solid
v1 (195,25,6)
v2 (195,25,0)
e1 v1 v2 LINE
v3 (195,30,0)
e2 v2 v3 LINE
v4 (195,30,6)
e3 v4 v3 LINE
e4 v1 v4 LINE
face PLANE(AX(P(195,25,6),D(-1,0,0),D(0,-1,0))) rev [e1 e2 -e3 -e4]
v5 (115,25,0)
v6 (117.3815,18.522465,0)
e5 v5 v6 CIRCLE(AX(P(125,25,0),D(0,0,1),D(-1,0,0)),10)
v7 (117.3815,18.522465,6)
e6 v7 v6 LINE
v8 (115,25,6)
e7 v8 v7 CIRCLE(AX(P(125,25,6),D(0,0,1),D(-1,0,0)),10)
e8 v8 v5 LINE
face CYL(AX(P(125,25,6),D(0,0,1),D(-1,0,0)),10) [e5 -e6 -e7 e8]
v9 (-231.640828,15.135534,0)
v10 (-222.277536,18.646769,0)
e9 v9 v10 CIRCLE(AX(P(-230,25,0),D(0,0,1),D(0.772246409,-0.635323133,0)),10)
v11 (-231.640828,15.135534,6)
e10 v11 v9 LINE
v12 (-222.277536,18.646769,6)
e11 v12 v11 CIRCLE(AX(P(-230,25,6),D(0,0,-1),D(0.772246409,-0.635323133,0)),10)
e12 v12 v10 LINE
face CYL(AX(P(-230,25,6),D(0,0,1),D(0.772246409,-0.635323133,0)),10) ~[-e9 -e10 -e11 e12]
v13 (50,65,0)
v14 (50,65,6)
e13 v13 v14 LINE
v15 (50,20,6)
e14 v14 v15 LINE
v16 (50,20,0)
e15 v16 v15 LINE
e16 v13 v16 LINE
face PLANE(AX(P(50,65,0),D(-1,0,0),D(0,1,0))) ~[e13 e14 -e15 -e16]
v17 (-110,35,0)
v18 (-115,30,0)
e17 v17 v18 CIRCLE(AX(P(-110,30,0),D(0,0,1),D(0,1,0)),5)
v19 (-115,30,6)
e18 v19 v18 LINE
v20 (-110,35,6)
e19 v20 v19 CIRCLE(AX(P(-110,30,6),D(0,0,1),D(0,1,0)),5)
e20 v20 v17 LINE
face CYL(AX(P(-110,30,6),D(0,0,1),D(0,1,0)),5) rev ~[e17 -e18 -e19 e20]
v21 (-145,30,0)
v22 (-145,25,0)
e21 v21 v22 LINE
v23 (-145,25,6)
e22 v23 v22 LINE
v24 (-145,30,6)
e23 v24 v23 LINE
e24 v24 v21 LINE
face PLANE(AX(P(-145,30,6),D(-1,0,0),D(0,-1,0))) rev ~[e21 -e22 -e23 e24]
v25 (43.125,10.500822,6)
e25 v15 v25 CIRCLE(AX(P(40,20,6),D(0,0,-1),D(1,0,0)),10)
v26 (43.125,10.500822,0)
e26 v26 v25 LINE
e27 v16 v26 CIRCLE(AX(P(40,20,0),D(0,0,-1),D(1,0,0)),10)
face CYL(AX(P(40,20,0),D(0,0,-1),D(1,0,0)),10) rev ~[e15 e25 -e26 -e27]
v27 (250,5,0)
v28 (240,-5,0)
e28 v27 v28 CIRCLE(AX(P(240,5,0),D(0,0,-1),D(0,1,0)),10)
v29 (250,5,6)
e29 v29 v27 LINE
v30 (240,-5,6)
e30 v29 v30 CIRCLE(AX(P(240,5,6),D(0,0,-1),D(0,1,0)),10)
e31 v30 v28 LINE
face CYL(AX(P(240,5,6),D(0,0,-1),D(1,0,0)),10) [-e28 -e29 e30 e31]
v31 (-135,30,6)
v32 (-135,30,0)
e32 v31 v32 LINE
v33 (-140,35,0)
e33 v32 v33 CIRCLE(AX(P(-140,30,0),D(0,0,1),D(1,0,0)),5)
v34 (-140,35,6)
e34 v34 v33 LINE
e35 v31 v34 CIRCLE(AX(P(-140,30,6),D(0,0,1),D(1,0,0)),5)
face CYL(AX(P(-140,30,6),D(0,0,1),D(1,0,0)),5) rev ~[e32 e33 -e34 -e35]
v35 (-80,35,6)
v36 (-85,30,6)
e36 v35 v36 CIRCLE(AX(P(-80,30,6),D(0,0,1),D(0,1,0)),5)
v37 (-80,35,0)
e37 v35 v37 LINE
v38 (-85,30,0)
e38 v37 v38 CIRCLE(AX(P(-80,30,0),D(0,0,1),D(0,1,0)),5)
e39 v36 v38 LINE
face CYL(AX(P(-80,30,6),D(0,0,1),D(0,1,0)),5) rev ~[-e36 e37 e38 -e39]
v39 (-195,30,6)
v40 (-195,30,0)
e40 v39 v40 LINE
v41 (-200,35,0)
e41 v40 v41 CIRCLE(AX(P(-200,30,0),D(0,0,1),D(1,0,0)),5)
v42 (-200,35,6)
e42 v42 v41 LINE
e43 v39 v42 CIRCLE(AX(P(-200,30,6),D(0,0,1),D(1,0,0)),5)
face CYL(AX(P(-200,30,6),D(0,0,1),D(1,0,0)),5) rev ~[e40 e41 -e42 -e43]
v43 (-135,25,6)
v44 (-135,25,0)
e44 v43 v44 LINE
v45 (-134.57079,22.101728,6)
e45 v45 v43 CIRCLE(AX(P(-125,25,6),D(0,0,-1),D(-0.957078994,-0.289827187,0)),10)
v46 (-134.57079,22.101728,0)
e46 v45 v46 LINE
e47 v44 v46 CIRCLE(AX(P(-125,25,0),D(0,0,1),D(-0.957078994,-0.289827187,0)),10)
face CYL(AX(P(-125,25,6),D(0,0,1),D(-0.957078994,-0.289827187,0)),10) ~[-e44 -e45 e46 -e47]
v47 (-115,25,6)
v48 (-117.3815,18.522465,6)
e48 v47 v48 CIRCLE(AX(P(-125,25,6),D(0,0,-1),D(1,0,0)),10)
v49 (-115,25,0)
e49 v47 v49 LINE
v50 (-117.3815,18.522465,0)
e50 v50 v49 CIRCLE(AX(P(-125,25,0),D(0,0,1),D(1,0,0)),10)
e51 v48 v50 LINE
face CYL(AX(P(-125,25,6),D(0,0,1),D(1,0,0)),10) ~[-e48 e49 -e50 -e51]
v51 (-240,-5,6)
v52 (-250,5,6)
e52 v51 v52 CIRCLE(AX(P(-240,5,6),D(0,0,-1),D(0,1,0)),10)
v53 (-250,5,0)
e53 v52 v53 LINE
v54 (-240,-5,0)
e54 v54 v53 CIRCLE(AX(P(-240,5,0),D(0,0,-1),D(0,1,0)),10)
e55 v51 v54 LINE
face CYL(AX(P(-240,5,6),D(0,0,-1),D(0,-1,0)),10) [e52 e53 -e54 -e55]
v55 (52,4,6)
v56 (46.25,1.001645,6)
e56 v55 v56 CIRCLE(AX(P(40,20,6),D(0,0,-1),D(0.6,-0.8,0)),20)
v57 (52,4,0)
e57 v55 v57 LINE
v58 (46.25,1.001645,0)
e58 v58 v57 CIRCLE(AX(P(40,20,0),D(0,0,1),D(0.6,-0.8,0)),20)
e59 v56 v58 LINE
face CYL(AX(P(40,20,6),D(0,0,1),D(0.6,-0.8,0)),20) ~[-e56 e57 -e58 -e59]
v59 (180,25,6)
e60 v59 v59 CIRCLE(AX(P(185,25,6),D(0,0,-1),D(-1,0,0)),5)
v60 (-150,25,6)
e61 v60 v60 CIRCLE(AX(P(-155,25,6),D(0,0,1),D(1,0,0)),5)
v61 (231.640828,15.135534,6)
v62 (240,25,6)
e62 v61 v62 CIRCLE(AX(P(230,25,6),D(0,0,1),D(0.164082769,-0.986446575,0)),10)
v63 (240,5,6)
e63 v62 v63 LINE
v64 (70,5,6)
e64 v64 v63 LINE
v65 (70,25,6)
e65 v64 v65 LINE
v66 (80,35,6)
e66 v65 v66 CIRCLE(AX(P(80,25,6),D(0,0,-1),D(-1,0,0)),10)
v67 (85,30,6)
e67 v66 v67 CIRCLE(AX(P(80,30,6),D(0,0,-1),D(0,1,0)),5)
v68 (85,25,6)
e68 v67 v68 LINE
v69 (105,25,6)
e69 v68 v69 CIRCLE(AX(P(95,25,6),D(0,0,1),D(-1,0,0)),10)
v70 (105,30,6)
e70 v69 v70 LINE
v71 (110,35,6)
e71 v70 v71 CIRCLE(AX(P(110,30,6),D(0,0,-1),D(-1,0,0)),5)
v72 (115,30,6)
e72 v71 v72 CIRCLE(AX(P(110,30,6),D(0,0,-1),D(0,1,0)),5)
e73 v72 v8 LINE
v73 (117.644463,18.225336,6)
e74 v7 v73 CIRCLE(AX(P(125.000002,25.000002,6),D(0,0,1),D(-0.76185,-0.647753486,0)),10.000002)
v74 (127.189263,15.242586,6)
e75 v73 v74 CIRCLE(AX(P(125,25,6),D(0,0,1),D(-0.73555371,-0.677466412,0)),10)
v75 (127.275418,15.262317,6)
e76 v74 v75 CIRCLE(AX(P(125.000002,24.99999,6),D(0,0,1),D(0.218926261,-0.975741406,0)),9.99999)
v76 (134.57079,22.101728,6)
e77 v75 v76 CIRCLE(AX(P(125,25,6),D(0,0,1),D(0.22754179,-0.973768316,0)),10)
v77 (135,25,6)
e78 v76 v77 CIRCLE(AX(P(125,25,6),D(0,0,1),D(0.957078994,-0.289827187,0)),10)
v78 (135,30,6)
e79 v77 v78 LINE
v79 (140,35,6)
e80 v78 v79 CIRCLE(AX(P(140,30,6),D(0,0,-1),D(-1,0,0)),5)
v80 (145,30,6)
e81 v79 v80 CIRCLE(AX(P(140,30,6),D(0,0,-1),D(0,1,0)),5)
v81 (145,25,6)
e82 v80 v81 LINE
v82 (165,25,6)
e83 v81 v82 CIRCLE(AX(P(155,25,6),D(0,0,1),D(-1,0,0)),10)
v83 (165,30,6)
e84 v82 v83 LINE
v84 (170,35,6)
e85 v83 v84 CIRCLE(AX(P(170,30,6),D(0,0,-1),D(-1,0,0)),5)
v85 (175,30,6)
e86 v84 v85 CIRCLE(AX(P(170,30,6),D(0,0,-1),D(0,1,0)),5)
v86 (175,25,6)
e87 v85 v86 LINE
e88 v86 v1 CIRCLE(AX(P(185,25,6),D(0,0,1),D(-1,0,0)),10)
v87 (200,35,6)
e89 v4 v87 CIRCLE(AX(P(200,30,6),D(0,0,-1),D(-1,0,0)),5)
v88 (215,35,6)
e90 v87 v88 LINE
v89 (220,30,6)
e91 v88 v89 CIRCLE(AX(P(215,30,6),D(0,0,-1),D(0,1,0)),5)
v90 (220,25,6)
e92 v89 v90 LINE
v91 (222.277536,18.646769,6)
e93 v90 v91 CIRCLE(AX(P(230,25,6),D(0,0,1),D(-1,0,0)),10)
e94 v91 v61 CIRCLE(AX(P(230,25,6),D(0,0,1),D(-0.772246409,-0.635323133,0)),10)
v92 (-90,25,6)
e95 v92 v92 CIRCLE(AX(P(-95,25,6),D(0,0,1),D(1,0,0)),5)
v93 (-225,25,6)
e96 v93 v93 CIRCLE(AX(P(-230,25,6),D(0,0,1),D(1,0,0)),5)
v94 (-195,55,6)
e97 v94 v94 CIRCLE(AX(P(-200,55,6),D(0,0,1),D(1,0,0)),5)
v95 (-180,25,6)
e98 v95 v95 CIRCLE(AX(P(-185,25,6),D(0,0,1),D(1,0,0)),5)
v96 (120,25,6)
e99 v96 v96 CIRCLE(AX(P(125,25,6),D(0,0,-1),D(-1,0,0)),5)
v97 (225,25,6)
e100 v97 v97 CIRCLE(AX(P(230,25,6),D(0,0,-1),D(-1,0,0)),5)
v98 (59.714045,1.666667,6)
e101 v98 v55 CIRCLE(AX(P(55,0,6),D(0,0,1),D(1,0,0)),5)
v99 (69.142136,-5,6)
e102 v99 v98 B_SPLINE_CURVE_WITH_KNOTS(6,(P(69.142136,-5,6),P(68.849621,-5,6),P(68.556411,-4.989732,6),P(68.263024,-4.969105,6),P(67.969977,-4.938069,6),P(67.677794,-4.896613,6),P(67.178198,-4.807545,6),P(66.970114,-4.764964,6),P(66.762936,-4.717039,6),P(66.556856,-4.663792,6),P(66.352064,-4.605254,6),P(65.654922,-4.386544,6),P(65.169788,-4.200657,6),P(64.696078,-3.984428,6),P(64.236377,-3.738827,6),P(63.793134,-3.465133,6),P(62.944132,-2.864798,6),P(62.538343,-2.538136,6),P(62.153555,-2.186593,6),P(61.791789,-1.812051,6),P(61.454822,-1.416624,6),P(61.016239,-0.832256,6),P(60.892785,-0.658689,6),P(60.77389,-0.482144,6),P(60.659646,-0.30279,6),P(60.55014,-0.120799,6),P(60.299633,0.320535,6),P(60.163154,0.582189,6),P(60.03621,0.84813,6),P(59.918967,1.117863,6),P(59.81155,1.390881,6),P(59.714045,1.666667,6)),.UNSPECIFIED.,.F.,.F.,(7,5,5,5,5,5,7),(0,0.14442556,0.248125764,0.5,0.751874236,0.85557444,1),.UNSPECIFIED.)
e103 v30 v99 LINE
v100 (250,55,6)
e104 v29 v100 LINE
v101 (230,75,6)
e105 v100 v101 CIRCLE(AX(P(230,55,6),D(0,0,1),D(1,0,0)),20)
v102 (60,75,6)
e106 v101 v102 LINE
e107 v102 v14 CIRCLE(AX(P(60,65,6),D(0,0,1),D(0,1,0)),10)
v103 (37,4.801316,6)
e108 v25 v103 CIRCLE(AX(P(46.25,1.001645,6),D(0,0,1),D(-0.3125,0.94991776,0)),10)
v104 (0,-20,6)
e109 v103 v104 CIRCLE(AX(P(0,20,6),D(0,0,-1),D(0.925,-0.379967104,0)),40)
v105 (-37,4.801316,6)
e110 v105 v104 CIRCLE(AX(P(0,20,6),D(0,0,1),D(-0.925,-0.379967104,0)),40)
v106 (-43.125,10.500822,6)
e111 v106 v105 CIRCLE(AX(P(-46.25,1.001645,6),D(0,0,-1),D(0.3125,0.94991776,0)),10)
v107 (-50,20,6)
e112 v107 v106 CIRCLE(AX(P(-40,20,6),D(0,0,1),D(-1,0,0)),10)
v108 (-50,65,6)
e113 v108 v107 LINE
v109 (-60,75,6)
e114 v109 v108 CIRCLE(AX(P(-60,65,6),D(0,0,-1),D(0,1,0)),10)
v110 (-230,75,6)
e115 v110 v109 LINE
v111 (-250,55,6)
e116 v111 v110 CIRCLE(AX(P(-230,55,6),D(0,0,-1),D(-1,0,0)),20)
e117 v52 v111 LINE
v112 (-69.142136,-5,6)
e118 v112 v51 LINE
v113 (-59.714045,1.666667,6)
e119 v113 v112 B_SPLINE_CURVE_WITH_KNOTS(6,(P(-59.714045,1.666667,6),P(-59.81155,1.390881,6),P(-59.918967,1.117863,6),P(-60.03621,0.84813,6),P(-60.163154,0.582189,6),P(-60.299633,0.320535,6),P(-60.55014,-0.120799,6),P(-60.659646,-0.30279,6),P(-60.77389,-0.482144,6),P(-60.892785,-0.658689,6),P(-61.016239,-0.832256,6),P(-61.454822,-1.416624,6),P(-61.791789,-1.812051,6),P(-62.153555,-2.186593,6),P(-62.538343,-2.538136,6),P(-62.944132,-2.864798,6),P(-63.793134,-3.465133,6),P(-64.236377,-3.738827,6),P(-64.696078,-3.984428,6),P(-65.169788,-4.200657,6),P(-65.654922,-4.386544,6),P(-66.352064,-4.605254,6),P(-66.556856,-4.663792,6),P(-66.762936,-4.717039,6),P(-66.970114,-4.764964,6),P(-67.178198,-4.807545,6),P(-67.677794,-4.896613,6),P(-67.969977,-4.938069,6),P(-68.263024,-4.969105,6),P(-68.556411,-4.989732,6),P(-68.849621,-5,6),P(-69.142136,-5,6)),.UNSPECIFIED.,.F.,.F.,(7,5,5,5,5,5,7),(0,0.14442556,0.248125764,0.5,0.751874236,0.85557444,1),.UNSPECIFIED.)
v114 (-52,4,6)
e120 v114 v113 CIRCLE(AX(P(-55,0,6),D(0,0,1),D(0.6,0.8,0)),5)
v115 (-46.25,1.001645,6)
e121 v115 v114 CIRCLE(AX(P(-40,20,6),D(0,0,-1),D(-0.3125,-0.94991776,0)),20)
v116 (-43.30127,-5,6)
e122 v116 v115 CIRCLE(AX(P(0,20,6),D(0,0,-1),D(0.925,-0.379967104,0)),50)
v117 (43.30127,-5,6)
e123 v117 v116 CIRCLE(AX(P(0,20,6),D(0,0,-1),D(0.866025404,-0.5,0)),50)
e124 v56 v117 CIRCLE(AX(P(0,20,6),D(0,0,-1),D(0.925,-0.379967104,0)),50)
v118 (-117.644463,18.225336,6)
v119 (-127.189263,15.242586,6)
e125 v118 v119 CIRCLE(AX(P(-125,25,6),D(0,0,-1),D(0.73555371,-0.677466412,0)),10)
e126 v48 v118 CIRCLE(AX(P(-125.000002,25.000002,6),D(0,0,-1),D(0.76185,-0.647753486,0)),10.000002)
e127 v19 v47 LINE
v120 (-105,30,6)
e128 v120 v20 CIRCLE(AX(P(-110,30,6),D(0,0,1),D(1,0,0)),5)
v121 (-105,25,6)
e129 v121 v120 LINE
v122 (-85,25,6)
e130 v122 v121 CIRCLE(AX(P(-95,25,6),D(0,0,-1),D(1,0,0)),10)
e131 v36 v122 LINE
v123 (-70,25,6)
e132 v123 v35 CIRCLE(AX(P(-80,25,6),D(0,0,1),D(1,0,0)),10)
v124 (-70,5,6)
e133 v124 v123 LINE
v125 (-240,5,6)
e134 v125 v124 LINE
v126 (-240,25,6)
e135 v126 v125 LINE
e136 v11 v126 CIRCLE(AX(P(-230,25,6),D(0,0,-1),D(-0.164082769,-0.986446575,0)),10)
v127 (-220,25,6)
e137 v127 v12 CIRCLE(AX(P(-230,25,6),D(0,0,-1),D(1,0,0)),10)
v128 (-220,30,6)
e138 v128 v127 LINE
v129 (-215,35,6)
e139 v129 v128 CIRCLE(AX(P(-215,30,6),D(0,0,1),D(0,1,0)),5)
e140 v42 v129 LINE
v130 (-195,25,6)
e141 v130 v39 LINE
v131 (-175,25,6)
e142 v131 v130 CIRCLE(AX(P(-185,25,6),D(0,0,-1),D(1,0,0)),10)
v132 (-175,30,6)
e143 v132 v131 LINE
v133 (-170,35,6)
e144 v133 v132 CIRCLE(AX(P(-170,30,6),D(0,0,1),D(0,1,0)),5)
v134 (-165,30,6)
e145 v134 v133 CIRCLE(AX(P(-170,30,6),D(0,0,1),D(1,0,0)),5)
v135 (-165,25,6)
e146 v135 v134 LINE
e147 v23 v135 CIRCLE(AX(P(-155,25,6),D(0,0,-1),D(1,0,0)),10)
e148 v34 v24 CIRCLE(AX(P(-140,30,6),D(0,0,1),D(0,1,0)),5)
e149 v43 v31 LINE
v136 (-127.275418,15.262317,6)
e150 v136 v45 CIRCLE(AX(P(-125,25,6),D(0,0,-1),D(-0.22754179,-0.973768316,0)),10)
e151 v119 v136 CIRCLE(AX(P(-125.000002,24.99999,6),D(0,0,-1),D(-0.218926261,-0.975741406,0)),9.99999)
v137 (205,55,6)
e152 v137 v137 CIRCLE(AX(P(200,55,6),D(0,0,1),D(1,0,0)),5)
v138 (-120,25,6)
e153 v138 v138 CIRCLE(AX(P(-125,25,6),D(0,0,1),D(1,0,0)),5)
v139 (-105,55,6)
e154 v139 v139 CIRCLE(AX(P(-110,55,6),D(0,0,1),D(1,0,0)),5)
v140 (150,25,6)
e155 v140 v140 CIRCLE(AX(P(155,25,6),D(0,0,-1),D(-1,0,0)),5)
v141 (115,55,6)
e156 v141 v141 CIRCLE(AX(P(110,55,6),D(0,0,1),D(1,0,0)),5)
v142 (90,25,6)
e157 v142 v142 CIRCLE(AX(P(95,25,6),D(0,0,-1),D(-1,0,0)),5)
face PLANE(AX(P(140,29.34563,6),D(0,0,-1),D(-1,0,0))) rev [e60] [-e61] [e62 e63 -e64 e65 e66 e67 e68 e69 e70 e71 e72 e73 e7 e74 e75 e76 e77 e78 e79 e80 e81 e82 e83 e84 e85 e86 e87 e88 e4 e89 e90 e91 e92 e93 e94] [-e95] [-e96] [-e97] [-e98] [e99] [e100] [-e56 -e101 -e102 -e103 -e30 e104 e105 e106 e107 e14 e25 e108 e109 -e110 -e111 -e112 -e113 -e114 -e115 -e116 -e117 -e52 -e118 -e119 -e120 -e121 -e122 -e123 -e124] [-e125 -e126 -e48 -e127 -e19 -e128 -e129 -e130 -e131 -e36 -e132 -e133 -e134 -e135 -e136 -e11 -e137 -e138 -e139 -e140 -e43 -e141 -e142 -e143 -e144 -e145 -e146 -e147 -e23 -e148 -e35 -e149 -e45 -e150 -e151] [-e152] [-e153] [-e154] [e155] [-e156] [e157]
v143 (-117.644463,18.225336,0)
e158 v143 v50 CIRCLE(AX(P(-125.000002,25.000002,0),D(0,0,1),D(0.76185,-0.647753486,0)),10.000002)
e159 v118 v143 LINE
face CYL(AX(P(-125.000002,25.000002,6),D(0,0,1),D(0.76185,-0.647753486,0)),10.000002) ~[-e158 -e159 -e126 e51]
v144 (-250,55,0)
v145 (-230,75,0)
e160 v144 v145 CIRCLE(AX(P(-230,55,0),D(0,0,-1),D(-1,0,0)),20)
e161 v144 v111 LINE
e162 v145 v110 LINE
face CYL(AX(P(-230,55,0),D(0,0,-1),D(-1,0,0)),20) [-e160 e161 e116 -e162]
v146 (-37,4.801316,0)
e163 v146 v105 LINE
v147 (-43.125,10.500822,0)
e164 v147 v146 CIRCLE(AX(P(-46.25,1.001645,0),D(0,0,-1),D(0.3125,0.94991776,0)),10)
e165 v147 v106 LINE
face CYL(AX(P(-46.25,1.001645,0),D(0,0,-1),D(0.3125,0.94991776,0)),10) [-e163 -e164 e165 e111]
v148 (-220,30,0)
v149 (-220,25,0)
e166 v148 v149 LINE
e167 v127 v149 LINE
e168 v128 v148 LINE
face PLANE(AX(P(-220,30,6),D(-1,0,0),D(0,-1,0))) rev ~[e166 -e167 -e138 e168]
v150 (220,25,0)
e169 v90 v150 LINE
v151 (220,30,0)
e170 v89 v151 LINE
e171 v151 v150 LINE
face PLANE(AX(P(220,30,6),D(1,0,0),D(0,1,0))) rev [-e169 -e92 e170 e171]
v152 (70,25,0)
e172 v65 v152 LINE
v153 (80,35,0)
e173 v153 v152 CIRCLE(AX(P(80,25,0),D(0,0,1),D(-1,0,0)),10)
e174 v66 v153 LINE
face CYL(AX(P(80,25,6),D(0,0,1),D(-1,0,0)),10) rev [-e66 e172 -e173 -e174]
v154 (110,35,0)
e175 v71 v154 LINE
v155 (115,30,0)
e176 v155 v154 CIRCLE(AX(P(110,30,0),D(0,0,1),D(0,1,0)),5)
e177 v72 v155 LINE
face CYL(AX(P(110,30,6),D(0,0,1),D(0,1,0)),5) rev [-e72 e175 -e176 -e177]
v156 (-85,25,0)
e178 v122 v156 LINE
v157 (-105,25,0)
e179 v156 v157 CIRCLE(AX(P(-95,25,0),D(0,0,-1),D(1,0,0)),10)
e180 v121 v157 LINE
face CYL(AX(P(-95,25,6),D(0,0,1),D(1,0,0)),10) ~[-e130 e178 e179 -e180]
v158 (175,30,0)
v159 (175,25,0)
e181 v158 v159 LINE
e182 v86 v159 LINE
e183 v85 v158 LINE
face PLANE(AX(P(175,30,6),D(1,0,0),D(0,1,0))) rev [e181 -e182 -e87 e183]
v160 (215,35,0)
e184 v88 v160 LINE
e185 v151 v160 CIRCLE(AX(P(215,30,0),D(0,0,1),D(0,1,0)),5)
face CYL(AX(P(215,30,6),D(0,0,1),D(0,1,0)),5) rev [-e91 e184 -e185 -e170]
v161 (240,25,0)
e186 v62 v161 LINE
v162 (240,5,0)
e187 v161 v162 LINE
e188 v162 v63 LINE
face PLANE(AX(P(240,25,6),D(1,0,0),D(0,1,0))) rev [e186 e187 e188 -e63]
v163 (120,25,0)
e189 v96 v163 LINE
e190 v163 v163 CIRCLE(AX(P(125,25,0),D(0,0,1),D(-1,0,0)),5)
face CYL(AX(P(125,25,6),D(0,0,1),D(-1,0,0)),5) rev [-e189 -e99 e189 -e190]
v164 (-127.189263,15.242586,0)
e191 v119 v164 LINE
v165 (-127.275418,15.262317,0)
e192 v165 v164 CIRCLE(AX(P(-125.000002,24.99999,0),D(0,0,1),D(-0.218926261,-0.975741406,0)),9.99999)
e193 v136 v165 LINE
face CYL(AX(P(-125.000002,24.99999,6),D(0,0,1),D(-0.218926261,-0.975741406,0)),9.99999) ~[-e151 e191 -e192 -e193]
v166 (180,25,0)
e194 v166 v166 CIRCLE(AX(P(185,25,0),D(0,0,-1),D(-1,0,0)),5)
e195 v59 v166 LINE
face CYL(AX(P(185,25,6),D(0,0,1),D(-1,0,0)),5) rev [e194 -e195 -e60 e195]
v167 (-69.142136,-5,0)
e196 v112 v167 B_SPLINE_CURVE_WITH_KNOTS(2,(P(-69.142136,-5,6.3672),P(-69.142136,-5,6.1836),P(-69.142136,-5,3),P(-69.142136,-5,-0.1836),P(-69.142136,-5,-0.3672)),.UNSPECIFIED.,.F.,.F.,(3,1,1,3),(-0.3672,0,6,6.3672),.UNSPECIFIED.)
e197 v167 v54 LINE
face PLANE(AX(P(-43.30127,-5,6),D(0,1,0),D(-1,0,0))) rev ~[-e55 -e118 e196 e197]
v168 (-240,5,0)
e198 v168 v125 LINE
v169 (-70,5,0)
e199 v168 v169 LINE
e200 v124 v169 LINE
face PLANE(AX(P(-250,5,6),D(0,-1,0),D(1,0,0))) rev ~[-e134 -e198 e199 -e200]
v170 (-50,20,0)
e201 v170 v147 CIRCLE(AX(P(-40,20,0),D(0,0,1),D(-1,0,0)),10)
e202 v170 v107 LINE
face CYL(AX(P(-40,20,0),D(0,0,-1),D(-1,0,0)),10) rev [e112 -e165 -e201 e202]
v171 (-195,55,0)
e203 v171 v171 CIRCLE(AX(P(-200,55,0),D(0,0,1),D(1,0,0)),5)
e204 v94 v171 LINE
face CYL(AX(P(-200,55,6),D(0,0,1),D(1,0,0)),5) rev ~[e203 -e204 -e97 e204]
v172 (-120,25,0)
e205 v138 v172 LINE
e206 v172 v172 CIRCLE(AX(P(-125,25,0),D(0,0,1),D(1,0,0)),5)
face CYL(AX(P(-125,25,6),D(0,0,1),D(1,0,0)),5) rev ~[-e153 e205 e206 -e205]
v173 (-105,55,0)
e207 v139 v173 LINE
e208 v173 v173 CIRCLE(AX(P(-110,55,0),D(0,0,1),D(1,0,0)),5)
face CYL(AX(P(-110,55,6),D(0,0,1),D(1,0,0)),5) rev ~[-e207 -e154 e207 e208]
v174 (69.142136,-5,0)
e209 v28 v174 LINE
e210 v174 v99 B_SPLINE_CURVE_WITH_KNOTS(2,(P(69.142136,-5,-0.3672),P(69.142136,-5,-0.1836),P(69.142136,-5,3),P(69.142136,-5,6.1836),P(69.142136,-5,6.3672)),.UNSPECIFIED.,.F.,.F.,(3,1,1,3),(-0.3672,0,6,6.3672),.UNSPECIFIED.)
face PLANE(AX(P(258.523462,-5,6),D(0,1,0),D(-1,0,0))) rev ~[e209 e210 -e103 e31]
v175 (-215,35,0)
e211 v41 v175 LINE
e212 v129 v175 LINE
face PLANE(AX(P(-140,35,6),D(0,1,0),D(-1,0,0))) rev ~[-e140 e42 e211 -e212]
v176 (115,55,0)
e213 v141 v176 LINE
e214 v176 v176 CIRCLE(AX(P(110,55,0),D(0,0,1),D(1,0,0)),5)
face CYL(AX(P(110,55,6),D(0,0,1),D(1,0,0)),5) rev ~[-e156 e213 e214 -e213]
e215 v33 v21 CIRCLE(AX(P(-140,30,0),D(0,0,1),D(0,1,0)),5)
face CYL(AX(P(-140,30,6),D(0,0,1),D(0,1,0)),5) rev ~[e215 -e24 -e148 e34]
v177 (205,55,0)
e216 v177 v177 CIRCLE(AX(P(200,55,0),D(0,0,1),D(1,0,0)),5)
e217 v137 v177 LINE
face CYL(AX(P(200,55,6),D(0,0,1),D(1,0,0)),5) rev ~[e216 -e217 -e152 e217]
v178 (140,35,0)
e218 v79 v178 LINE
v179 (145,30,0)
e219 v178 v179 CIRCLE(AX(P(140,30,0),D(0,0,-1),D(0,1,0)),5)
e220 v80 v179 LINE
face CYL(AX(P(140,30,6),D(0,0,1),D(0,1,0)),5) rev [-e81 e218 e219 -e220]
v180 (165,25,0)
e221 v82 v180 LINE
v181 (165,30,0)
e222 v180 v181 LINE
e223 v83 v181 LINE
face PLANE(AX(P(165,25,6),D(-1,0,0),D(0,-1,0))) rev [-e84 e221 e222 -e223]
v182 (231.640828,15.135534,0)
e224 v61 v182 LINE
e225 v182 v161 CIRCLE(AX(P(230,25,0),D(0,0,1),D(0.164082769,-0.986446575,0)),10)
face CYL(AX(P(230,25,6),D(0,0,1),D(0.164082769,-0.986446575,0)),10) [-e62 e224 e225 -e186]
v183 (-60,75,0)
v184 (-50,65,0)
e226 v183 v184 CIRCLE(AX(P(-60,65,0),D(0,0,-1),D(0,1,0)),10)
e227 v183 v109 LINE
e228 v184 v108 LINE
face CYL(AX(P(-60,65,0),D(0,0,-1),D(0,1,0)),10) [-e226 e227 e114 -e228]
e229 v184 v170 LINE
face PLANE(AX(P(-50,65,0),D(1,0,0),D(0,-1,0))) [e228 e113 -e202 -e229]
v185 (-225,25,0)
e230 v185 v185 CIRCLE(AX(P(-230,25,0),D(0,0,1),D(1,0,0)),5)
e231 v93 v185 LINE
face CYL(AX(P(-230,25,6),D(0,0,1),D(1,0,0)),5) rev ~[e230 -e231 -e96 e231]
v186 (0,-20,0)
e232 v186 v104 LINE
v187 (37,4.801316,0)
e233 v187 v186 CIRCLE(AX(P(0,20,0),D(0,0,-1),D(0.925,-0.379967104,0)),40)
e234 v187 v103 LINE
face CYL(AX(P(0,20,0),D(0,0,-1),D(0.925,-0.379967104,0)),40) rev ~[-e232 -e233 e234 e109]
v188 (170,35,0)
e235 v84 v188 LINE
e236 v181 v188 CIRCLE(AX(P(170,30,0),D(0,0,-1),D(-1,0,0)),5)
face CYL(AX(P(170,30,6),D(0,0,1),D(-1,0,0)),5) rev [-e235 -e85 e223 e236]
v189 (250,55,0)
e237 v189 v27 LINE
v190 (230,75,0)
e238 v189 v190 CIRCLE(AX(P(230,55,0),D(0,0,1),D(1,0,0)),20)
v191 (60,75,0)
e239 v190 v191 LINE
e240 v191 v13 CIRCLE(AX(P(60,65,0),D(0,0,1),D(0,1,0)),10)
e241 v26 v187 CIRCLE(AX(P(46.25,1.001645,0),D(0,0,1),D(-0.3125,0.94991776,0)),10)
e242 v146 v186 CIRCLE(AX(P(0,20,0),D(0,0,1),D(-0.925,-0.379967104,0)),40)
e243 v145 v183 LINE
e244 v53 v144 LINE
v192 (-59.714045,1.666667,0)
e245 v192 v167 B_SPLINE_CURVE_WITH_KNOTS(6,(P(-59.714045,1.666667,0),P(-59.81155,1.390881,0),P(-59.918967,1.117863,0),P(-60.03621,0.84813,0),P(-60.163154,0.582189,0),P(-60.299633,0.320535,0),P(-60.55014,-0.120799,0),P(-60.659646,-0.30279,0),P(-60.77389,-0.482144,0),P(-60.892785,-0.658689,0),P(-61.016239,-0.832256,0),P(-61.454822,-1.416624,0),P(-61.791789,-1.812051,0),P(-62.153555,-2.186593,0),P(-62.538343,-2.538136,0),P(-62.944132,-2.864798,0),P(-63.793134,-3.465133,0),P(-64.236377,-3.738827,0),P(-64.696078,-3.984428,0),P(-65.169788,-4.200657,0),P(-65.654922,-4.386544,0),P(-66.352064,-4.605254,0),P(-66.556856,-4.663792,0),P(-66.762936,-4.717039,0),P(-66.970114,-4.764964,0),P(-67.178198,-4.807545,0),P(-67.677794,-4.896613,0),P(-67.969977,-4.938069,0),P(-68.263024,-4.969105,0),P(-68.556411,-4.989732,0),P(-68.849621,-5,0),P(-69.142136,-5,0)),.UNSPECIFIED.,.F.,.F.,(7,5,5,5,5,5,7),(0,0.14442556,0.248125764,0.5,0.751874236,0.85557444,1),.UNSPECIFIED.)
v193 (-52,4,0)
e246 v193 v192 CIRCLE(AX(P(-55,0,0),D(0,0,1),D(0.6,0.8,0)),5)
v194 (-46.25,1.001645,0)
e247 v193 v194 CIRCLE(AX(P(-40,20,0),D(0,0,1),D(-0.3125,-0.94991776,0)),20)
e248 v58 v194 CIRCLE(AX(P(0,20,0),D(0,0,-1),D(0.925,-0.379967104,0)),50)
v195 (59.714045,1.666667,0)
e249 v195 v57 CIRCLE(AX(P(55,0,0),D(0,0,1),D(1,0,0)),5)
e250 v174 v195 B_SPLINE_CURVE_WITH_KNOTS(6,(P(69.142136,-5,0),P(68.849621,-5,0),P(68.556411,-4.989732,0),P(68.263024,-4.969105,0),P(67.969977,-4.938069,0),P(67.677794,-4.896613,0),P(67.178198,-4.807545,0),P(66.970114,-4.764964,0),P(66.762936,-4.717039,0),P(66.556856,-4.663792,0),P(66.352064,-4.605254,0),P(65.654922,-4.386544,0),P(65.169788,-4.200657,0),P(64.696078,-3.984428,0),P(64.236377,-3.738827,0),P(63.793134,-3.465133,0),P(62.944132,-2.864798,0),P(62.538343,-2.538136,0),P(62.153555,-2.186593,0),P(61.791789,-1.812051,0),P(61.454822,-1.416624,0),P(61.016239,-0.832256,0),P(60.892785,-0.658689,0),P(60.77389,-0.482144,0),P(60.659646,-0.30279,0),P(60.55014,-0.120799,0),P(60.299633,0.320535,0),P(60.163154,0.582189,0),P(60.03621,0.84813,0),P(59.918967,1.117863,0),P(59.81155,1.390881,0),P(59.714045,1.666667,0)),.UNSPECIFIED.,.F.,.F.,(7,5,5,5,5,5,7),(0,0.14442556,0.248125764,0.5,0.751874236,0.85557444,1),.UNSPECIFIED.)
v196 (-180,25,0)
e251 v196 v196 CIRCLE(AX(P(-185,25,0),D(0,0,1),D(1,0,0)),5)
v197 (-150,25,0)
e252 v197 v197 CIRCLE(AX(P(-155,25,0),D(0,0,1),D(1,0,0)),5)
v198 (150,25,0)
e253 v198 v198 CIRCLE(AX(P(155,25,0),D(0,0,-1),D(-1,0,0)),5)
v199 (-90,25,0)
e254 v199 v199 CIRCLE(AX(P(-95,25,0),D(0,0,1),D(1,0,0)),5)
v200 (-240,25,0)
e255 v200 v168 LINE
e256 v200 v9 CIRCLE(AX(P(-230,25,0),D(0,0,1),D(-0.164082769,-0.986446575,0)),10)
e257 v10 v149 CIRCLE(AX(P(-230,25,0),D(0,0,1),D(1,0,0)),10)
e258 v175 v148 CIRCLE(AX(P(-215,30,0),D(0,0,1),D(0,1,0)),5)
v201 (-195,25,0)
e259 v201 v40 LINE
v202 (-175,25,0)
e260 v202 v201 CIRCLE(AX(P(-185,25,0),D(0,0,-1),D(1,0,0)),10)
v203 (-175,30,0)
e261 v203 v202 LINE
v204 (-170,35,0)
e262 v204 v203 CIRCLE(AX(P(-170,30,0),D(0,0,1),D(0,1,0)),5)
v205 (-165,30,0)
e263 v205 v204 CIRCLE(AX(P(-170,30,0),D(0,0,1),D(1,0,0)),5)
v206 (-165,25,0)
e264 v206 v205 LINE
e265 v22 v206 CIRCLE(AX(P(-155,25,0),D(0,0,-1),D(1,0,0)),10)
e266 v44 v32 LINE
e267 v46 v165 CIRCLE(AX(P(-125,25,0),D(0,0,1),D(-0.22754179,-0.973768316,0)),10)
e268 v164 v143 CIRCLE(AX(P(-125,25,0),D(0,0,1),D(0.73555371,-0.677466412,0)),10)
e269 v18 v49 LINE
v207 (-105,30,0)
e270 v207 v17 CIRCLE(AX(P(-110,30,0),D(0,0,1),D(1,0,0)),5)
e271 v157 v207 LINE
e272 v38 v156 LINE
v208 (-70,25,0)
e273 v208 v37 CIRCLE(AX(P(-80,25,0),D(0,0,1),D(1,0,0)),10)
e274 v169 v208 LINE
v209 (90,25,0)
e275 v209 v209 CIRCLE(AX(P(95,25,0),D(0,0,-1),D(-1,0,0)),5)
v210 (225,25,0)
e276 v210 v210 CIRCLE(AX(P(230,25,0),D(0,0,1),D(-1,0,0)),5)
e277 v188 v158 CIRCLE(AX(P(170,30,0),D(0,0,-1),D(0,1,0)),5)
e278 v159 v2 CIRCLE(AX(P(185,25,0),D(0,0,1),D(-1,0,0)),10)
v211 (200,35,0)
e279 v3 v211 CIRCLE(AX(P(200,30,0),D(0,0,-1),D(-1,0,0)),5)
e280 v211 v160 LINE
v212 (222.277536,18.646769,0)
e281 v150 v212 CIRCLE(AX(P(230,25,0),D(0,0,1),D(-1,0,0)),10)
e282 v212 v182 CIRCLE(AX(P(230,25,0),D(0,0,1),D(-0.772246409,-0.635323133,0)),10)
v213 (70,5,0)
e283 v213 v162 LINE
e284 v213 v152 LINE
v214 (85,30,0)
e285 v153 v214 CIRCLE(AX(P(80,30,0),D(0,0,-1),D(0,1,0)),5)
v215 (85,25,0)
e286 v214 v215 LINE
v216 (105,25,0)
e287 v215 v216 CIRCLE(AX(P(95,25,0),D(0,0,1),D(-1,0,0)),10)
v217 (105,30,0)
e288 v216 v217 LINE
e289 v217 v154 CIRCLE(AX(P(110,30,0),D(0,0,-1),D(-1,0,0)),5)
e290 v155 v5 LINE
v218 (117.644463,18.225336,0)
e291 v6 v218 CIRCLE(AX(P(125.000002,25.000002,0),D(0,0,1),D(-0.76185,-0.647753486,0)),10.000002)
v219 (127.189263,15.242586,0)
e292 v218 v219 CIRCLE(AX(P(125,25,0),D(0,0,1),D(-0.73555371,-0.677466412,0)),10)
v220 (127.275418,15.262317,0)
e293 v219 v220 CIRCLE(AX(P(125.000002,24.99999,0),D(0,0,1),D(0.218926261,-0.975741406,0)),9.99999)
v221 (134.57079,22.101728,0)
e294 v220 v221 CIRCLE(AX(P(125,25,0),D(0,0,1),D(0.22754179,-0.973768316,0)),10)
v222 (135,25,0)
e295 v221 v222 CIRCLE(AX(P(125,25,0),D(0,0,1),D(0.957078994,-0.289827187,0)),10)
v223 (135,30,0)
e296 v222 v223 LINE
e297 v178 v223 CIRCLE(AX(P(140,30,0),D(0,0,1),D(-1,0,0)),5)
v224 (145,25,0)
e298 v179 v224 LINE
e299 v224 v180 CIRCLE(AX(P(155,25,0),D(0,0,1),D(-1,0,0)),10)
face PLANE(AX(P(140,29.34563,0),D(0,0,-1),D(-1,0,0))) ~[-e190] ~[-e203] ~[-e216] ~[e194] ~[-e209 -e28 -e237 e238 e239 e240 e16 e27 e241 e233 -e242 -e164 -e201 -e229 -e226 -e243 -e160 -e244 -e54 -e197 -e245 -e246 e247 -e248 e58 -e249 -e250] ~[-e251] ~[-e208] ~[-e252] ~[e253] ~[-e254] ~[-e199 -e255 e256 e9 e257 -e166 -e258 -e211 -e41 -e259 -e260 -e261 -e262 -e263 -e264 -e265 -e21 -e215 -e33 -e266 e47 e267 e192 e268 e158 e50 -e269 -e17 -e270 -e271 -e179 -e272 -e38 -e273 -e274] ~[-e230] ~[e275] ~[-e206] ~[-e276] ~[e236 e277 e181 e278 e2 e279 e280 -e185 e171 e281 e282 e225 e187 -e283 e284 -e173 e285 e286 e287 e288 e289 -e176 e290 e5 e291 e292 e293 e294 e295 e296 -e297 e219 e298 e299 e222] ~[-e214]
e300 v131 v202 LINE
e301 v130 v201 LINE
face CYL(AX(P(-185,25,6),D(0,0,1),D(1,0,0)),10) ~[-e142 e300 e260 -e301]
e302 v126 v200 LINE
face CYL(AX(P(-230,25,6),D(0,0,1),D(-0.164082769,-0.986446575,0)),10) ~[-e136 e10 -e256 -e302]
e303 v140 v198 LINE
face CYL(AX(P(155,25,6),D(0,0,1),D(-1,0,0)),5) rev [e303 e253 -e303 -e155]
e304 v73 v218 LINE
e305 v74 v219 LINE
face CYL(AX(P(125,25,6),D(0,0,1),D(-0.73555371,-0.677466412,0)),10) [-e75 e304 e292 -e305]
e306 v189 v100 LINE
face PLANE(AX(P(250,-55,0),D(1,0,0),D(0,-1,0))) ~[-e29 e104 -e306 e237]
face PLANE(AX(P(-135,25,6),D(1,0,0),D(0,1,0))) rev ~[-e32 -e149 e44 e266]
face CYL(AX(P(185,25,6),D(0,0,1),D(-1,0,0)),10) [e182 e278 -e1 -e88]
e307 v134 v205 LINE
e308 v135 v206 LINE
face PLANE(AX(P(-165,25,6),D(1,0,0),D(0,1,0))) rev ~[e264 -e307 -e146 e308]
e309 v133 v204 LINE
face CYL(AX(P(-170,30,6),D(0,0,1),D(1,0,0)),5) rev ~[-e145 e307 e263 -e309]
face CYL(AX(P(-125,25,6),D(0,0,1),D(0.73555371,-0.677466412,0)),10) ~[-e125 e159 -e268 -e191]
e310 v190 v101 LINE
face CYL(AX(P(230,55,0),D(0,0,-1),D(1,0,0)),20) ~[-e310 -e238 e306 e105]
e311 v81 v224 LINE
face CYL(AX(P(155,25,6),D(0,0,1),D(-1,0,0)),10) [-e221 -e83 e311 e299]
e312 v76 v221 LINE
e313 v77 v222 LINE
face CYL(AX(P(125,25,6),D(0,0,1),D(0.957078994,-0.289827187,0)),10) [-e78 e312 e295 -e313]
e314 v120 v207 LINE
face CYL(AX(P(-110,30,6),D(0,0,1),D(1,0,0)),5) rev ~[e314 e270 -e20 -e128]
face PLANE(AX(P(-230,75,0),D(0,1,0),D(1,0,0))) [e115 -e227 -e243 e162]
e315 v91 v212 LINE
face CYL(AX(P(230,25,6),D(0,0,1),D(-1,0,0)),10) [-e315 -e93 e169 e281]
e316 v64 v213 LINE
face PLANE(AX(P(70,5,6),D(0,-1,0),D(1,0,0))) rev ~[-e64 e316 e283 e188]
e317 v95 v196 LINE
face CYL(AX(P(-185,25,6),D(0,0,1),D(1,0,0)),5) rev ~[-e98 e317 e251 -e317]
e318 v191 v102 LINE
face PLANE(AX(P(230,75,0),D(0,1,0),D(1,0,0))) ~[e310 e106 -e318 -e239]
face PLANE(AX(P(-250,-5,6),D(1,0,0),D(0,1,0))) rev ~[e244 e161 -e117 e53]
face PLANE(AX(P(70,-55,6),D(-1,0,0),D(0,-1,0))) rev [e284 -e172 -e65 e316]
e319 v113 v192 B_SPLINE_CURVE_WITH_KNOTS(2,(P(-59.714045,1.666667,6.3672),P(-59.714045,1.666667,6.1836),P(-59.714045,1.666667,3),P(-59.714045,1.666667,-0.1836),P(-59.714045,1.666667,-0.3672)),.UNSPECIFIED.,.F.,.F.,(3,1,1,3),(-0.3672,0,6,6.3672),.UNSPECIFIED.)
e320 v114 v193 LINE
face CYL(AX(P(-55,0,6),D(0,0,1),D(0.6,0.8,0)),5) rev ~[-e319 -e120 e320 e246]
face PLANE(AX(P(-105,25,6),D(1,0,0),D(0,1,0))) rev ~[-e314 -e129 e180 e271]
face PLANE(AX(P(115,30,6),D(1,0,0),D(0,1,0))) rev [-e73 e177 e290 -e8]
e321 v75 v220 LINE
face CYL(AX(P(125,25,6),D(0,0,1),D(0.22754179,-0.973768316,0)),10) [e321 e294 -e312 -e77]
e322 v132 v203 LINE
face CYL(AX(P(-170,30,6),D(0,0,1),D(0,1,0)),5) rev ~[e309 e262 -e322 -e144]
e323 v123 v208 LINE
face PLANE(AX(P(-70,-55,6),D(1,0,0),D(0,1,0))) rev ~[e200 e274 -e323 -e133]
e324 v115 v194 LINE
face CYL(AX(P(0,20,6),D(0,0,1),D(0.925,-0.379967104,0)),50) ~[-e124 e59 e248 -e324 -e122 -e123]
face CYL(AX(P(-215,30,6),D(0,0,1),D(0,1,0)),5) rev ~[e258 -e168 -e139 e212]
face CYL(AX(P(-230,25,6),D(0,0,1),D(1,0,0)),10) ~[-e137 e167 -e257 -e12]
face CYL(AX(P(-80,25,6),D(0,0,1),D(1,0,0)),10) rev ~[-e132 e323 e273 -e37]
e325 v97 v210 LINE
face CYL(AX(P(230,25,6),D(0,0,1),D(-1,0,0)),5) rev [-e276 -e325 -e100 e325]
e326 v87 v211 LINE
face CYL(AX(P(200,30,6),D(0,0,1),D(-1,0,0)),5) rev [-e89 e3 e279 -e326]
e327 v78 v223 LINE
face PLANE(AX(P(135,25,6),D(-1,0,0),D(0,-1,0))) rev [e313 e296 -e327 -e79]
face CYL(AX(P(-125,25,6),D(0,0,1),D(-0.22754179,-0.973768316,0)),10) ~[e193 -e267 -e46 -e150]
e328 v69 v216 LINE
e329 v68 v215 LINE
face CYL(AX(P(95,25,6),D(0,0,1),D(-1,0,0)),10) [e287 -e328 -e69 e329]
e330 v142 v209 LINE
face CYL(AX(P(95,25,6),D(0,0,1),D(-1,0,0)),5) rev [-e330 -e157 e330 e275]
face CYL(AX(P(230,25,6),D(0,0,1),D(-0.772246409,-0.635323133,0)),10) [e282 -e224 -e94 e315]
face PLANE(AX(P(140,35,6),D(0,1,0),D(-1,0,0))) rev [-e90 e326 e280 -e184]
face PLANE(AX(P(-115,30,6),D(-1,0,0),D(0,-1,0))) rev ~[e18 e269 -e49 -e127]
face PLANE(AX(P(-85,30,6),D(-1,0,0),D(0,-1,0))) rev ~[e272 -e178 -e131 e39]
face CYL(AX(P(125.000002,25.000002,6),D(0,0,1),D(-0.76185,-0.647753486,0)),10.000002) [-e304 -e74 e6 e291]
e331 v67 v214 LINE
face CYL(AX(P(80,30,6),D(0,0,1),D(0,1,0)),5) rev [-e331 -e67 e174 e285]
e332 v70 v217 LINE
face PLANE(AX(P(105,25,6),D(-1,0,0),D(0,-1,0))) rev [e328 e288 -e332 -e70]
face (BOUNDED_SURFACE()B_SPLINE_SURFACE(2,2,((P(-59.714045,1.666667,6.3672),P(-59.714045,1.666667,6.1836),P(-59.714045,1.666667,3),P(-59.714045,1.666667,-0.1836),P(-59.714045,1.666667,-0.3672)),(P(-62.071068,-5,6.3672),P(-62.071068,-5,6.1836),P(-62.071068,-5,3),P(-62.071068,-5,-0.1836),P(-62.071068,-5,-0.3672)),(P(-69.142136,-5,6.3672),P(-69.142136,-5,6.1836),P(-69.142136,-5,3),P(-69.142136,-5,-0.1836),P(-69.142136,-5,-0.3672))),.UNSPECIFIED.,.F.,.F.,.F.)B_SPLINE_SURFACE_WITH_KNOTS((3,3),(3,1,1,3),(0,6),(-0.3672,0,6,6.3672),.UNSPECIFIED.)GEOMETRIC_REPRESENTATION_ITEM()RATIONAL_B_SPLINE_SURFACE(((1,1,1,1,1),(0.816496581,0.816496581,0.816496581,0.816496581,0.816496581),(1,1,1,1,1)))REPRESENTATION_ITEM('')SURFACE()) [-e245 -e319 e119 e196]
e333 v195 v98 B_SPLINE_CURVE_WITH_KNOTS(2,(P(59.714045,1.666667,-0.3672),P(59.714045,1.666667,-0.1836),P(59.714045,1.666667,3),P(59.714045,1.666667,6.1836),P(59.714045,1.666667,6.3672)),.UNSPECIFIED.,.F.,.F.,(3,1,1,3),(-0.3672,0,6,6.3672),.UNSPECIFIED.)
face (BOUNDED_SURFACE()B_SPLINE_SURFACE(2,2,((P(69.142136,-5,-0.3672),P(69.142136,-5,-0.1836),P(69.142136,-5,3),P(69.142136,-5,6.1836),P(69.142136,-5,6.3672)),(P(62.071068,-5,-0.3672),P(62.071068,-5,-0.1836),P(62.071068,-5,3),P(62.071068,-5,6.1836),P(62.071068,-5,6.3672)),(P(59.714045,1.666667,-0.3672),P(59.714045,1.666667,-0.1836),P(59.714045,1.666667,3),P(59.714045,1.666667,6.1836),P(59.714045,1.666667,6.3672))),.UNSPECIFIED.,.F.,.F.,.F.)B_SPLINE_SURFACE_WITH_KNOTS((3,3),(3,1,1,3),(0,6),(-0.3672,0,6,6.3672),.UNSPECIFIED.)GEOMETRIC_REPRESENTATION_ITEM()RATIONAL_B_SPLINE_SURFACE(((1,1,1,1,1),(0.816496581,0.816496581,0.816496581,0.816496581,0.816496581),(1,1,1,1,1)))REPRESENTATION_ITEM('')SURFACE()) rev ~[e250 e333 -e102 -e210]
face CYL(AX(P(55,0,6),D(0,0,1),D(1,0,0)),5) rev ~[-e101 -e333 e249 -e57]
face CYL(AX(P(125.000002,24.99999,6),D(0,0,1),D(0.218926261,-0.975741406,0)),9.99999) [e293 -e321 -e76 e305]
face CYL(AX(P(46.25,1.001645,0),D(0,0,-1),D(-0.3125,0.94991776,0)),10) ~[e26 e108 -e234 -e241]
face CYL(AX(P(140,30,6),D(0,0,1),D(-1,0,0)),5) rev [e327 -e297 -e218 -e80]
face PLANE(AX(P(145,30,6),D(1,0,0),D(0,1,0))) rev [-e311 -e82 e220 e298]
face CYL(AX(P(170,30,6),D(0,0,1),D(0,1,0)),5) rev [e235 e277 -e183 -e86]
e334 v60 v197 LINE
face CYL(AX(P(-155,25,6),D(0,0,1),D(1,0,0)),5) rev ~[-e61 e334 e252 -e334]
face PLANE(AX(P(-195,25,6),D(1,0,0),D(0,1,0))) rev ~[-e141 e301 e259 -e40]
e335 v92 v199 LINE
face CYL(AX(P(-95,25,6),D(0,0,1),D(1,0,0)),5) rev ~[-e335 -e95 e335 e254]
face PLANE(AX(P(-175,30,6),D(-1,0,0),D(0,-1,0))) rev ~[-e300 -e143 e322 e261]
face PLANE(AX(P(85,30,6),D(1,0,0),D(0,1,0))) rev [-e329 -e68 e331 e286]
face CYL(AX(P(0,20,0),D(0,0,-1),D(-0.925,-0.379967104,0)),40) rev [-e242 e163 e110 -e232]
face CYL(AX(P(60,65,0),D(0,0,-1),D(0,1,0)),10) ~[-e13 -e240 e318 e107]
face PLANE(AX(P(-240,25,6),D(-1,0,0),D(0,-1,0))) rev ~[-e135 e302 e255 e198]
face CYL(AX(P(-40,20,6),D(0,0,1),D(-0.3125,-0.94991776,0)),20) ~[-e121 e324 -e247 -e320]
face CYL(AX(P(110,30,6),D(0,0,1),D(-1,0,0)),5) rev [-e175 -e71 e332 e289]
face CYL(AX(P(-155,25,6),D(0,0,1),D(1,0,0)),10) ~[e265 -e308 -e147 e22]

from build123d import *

# Parameters (mm, degrees)
BOSS_EXTRUDE1_DEPTH = 6
SKETCH3_R           = 5
CUT_EXTRUDE1_DEPTH  = 262.076617107
SKETCH4_R           = 5
CUT_EXTRUDE2_DEPTH  = 262.076617107
CUT_EXTRUDE5_DEPTH  = 262.076617107
FILLET5_R           = 5
FILLET6_R           = 5
SKETCH9_W           = 180
SKETCH9_H           = 10
BOSS_EXTRUDE2_DEPTH = 6
CUT_EXTRUDE6_DEPTH  = 262.076617107
FILLET7_R           = 10
SKETCH11_R          = 5
BOSS_EXTRUDE3_DEPTH = 6


with BuildPart() as part:
    # Sketch1 → Boss-Extrude1 (new body)
    with BuildSketch(Plane.XY):
        with BuildLine():
            Line((-250, -55), (-250, 3.178280867))
            Line((-250, 3.178280867), (-250, 55))
            ThreePointArc((-250, 55), (-244.142135624, 69.142135624), (-230, 75))
            Line((-230, 75), (-220, 75))
            Line((-220, 75), (-164.330865428, 75))
            Line((-164.330865428, 75), (-60, 75))
            ThreePointArc((-60, 75), (-52.928932188, 72.071067812), (-50, 65))
            Line((-50, 65), (-50, 20))
            ThreePointArc((-50, 20), (-48.100925873, 14.1369803), (-43.125, 10.500822404))
            ThreePointArc((-43.125, 10.500822404), (-39.437786703, 8.32242004), (-37, 4.801315846))
            ThreePointArc((-37, 4.801315846), (-22.271648276, -13.226099426), (0, -20))
            Line((0, -20), (0, -40))
            Line((0, -40), (0, -65))
            Line((0, -65), (0, -75))
            Line((0, -75), (-230, -75))
            ThreePointArc((-230, -75), (-244.142135624, -69.142135624), (-250, -55))
        make_face()
    boss_extrude1 = extrude(amount=BOSS_EXTRUDE1_DEPTH)

    # Mirror1: Boss-Extrude1 across plane
    add(boss_extrude1.mirror(Plane(origin=(0, -20, 6), x_dir=(0, 0, 1), z_dir=(-1, 0, 0))))

    # Sketch3 → Cut-Extrude1 (cut, through all)
    with BuildSketch(Plane.XY.offset(6)):
        with Locations((110, 55)):
            Circle(SKETCH3_R)
        with Locations((200, 55)):
            Circle(SKETCH3_R)
        with Locations((-110, 55)):
            Circle(SKETCH3_R)
        with Locations((-200, 55)):
            Circle(SKETCH3_R)
    extrude(amount=-CUT_EXTRUDE1_DEPTH, mode=Mode.SUBTRACT)

    # Sketch4 → Cut-Extrude2 (cut, through all)
    with BuildSketch(Plane.XY.offset(6)):
        with BuildLine():
            Line((-70, -55), (-70, 25))
            ThreePointArc((-70, 25), (-72.928932188, 32.071067812), (-80, 35))
            Line((-80, 35), (-110, 35))
            ThreePointArc((-110, 35), (-113.535533906, 33.535533906), (-115, 30))
            Line((-115, 30), (-115, 25))
            ThreePointArc((-115, 25), (-115.614239502, 21.549275456), (-117.381499976, 18.522465177))
            ThreePointArc((-117.381499976, 18.522465177), (-117.5115076, 18.372596167), (-117.644462896, 18.225335882))
            ThreePointArc((-117.644462896, 18.225335882), (-122.017250069, 15.45520022), (-127.189262676, 15.242585951))
            ThreePointArc((-127.189262676, 15.242585951), (-127.232362089, 15.252356208), (-127.275417902, 15.262316838))
            ThreePointArc((-127.275417902, 15.262316838), (-131.839411289, 17.704627959), (-134.570789944, 22.101728126))
            ThreePointArc((-134.570789944, 22.101728126), (-134.892115533, 23.535059632), (-135, 25))
            Line((-135, 25), (-135, 30))
            ThreePointArc((-135, 30), (-136.464466094, 33.535533906), (-140, 35))
            Line((-140, 35), (-215, 35))
            ThreePointArc((-215, 35), (-218.535533906, 33.535533906), (-220, 30))
            Line((-220, 30), (-220, 25))
            ThreePointArc((-220, 25), (-220.586588267, 21.625436392), (-222.277535909, 18.646768667))
            ThreePointArc((-222.277535909, 18.646768667), (-226.488765584, 15.636708224), (-231.640827685, 15.135534251))
            ThreePointArc((-231.640827685, 15.135534251), (-237.629163678, 18.535028107), (-240, 25))
            Line((-240, 25), (-240, -55))
            ThreePointArc((-240, -55), (-237.071067812, -62.071067812), (-230, -65))
            Line((-230, -65), (-210, -65))
            Line((-210, -65), (-190, -65))
            Line((-190, -65), (-110, -65))
            Line((-110, -65), (-90, -65))
            Line((-90, -65), (-80, -65))
            ThreePointArc((-80, -65), (-72.928932188, -62.071067812), (-70, -55))
        make_face()
        with Locations((-230, 25)):
            Circle(SKETCH4_R)
        with Locations((-125, 25)):
            Circle(SKETCH4_R)
    cut_extrude2 = extrude(amount=-CUT_EXTRUDE2_DEPTH, mode=Mode.SUBTRACT)

    # Sketch8 → Cut-Extrude5 (cut, through all)
    with BuildSketch(Plane.XY.offset(6)):
        with BuildLine():
            Line((-60, 0), (-60, -65))
            Line((-60, -65), (60, -65))
            Line((60, -65), (60, 0))
            ThreePointArc((60, 0), (57.236067977, 4.472135955), (52, 4))
            ThreePointArc((52, 4), (49.247332505, 2.266223145), (46.25, 1.001644808))
            ThreePointArc((46.25, 1.001644808), (0, -30), (-46.25, 1.001644808))
            ThreePointArc((-46.25, 1.001644808), (-49.247332505, 2.266223145), (-52, 4))
            ThreePointArc((-52, 4), (-57.236067977, 4.472135955), (-60, 0))
        make_face()
    extrude(amount=-CUT_EXTRUDE5_DEPTH, mode=Mode.SUBTRACT)

    # Fillet5
    fillet5_edges = [part.edges().sort_by_distance(p)[0] for p in [
        (-60, -65, 3),
    ]]
    fillet(fillet5_edges, radius=FILLET5_R)

    # Fillet6
    fillet6_edges = [part.edges().sort_by_distance(p)[0] for p in [
        (60, -65, 3),
    ]]
    fillet(fillet6_edges, radius=FILLET6_R)

    # Mirror2: Cut-Extrude2 across plane
    add(cut_extrude2.mirror(Plane(origin=(0, 0, 0), x_dir=(0, 0, 1), z_dir=(1, 0, 0))), mode=Mode.SUBTRACT)

    # Sketch9 → Boss-Extrude2 (add)
    with BuildSketch(Plane.XY.offset(6)):
        with Locations((-160, 0)):
            Rectangle(SKETCH9_W, SKETCH9_H)
        with Locations((160, 0)):
            Rectangle(SKETCH9_W, SKETCH9_H)
    extrude(amount=-BOSS_EXTRUDE2_DEPTH)

    # Sketch10 → Cut-Extrude6 (cut, through all)
    with BuildSketch(Plane.XY.offset(6)):
        with BuildLine():
            Line((-240, -5), (-250, -5))
            Line((-250, -5), (-250, -80.075651127))
            Line((-250, -80.075651127), (258.523461634, -80.075651127))
            Line((258.523461634, -80.075651127), (258.523461634, -5))
            Line((258.523461634, -5), (43.301270189, -5))
            ThreePointArc((43.301270189, -5), (0, -30), (-43.301270189, -5))
            Line((-43.301270189, -5), (-240, -5))
        make_face()
    extrude(amount=-CUT_EXTRUDE6_DEPTH, mode=Mode.SUBTRACT)

    # Fillet7
    fillet7_edges = [part.edges().sort_by_distance(p)[0] for p in [
        (-60, -5, 3),
        (250, -5, 3),
        (60, -5, 3),
        (-250, -5, 3),
    ]]
    fillet(fillet7_edges, radius=FILLET7_R)

    # Sketch11 → Boss-Extrude3 (add)
    with BuildSketch(Plane.XY.offset(6)):
        with BuildLine():
            ThreePointArc((-195, 30), (-196.464466094, 33.535533906), (-200, 35))
            Line((-200, 35), (-200, 37.801896892))
            Line((-200, 37.801896892), (-80, 37.801896892))
            Line((-80, 37.801896892), (-80, 35))
            ThreePointArc((-80, 35), (-83.535533906, 33.535533906), (-85, 30))
            Line((-85, 30), (-85, 25))
            ThreePointArc((-85, 25), (-95, 15), (-105, 25))
            Line((-105, 25), (-105, 30))
            ThreePointArc((-105, 30), (-106.464466094, 33.535533906), (-110, 35))
            ThreePointArc((-110, 35), (-113.535533906, 33.535533906), (-115, 30))
            Line((-115, 30), (-115, 25))
            ThreePointArc((-115, 25), (-125, 15), (-135, 25))
            Line((-135, 25), (-135, 30))
            ThreePointArc((-135, 30), (-136.464466094, 33.535533906), (-140, 35))
            ThreePointArc((-140, 35), (-143.535533906, 33.535533906), (-145, 30))
            Line((-145, 30), (-145, 25))
            ThreePointArc((-145, 25), (-155, 15), (-165, 25))
            Line((-165, 25), (-165, 30))
            ThreePointArc((-165, 30), (-166.464466094, 33.535533906), (-170, 35))
            ThreePointArc((-170, 35), (-173.535533906, 33.535533906), (-175, 30))
            Line((-175, 30), (-175, 25))
            ThreePointArc((-175, 25), (-185, 15), (-195, 25))
            Line((-195, 25), (-195, 30))
        make_face()
        with Locations((-185, 25)):
            Circle(SKETCH11_R, mode=Mode.SUBTRACT)
        with Locations((-155, 25)):
            Circle(SKETCH11_R, mode=Mode.SUBTRACT)
        with Locations((-95, 25)):
            Circle(SKETCH11_R, mode=Mode.SUBTRACT)
        with Locations((-125, 25)):
            Circle(SKETCH11_R, mode=Mode.SUBTRACT)
    boss_extrude3 = extrude(amount=-BOSS_EXTRUDE3_DEPTH)

    # Mirror3: Boss-Extrude3 across plane
    add(boss_extrude3.mirror(Plane(origin=(0, 0, 0), x_dir=(0, 0, 1), z_dir=(1, 0, 0))))


solid = part.part
